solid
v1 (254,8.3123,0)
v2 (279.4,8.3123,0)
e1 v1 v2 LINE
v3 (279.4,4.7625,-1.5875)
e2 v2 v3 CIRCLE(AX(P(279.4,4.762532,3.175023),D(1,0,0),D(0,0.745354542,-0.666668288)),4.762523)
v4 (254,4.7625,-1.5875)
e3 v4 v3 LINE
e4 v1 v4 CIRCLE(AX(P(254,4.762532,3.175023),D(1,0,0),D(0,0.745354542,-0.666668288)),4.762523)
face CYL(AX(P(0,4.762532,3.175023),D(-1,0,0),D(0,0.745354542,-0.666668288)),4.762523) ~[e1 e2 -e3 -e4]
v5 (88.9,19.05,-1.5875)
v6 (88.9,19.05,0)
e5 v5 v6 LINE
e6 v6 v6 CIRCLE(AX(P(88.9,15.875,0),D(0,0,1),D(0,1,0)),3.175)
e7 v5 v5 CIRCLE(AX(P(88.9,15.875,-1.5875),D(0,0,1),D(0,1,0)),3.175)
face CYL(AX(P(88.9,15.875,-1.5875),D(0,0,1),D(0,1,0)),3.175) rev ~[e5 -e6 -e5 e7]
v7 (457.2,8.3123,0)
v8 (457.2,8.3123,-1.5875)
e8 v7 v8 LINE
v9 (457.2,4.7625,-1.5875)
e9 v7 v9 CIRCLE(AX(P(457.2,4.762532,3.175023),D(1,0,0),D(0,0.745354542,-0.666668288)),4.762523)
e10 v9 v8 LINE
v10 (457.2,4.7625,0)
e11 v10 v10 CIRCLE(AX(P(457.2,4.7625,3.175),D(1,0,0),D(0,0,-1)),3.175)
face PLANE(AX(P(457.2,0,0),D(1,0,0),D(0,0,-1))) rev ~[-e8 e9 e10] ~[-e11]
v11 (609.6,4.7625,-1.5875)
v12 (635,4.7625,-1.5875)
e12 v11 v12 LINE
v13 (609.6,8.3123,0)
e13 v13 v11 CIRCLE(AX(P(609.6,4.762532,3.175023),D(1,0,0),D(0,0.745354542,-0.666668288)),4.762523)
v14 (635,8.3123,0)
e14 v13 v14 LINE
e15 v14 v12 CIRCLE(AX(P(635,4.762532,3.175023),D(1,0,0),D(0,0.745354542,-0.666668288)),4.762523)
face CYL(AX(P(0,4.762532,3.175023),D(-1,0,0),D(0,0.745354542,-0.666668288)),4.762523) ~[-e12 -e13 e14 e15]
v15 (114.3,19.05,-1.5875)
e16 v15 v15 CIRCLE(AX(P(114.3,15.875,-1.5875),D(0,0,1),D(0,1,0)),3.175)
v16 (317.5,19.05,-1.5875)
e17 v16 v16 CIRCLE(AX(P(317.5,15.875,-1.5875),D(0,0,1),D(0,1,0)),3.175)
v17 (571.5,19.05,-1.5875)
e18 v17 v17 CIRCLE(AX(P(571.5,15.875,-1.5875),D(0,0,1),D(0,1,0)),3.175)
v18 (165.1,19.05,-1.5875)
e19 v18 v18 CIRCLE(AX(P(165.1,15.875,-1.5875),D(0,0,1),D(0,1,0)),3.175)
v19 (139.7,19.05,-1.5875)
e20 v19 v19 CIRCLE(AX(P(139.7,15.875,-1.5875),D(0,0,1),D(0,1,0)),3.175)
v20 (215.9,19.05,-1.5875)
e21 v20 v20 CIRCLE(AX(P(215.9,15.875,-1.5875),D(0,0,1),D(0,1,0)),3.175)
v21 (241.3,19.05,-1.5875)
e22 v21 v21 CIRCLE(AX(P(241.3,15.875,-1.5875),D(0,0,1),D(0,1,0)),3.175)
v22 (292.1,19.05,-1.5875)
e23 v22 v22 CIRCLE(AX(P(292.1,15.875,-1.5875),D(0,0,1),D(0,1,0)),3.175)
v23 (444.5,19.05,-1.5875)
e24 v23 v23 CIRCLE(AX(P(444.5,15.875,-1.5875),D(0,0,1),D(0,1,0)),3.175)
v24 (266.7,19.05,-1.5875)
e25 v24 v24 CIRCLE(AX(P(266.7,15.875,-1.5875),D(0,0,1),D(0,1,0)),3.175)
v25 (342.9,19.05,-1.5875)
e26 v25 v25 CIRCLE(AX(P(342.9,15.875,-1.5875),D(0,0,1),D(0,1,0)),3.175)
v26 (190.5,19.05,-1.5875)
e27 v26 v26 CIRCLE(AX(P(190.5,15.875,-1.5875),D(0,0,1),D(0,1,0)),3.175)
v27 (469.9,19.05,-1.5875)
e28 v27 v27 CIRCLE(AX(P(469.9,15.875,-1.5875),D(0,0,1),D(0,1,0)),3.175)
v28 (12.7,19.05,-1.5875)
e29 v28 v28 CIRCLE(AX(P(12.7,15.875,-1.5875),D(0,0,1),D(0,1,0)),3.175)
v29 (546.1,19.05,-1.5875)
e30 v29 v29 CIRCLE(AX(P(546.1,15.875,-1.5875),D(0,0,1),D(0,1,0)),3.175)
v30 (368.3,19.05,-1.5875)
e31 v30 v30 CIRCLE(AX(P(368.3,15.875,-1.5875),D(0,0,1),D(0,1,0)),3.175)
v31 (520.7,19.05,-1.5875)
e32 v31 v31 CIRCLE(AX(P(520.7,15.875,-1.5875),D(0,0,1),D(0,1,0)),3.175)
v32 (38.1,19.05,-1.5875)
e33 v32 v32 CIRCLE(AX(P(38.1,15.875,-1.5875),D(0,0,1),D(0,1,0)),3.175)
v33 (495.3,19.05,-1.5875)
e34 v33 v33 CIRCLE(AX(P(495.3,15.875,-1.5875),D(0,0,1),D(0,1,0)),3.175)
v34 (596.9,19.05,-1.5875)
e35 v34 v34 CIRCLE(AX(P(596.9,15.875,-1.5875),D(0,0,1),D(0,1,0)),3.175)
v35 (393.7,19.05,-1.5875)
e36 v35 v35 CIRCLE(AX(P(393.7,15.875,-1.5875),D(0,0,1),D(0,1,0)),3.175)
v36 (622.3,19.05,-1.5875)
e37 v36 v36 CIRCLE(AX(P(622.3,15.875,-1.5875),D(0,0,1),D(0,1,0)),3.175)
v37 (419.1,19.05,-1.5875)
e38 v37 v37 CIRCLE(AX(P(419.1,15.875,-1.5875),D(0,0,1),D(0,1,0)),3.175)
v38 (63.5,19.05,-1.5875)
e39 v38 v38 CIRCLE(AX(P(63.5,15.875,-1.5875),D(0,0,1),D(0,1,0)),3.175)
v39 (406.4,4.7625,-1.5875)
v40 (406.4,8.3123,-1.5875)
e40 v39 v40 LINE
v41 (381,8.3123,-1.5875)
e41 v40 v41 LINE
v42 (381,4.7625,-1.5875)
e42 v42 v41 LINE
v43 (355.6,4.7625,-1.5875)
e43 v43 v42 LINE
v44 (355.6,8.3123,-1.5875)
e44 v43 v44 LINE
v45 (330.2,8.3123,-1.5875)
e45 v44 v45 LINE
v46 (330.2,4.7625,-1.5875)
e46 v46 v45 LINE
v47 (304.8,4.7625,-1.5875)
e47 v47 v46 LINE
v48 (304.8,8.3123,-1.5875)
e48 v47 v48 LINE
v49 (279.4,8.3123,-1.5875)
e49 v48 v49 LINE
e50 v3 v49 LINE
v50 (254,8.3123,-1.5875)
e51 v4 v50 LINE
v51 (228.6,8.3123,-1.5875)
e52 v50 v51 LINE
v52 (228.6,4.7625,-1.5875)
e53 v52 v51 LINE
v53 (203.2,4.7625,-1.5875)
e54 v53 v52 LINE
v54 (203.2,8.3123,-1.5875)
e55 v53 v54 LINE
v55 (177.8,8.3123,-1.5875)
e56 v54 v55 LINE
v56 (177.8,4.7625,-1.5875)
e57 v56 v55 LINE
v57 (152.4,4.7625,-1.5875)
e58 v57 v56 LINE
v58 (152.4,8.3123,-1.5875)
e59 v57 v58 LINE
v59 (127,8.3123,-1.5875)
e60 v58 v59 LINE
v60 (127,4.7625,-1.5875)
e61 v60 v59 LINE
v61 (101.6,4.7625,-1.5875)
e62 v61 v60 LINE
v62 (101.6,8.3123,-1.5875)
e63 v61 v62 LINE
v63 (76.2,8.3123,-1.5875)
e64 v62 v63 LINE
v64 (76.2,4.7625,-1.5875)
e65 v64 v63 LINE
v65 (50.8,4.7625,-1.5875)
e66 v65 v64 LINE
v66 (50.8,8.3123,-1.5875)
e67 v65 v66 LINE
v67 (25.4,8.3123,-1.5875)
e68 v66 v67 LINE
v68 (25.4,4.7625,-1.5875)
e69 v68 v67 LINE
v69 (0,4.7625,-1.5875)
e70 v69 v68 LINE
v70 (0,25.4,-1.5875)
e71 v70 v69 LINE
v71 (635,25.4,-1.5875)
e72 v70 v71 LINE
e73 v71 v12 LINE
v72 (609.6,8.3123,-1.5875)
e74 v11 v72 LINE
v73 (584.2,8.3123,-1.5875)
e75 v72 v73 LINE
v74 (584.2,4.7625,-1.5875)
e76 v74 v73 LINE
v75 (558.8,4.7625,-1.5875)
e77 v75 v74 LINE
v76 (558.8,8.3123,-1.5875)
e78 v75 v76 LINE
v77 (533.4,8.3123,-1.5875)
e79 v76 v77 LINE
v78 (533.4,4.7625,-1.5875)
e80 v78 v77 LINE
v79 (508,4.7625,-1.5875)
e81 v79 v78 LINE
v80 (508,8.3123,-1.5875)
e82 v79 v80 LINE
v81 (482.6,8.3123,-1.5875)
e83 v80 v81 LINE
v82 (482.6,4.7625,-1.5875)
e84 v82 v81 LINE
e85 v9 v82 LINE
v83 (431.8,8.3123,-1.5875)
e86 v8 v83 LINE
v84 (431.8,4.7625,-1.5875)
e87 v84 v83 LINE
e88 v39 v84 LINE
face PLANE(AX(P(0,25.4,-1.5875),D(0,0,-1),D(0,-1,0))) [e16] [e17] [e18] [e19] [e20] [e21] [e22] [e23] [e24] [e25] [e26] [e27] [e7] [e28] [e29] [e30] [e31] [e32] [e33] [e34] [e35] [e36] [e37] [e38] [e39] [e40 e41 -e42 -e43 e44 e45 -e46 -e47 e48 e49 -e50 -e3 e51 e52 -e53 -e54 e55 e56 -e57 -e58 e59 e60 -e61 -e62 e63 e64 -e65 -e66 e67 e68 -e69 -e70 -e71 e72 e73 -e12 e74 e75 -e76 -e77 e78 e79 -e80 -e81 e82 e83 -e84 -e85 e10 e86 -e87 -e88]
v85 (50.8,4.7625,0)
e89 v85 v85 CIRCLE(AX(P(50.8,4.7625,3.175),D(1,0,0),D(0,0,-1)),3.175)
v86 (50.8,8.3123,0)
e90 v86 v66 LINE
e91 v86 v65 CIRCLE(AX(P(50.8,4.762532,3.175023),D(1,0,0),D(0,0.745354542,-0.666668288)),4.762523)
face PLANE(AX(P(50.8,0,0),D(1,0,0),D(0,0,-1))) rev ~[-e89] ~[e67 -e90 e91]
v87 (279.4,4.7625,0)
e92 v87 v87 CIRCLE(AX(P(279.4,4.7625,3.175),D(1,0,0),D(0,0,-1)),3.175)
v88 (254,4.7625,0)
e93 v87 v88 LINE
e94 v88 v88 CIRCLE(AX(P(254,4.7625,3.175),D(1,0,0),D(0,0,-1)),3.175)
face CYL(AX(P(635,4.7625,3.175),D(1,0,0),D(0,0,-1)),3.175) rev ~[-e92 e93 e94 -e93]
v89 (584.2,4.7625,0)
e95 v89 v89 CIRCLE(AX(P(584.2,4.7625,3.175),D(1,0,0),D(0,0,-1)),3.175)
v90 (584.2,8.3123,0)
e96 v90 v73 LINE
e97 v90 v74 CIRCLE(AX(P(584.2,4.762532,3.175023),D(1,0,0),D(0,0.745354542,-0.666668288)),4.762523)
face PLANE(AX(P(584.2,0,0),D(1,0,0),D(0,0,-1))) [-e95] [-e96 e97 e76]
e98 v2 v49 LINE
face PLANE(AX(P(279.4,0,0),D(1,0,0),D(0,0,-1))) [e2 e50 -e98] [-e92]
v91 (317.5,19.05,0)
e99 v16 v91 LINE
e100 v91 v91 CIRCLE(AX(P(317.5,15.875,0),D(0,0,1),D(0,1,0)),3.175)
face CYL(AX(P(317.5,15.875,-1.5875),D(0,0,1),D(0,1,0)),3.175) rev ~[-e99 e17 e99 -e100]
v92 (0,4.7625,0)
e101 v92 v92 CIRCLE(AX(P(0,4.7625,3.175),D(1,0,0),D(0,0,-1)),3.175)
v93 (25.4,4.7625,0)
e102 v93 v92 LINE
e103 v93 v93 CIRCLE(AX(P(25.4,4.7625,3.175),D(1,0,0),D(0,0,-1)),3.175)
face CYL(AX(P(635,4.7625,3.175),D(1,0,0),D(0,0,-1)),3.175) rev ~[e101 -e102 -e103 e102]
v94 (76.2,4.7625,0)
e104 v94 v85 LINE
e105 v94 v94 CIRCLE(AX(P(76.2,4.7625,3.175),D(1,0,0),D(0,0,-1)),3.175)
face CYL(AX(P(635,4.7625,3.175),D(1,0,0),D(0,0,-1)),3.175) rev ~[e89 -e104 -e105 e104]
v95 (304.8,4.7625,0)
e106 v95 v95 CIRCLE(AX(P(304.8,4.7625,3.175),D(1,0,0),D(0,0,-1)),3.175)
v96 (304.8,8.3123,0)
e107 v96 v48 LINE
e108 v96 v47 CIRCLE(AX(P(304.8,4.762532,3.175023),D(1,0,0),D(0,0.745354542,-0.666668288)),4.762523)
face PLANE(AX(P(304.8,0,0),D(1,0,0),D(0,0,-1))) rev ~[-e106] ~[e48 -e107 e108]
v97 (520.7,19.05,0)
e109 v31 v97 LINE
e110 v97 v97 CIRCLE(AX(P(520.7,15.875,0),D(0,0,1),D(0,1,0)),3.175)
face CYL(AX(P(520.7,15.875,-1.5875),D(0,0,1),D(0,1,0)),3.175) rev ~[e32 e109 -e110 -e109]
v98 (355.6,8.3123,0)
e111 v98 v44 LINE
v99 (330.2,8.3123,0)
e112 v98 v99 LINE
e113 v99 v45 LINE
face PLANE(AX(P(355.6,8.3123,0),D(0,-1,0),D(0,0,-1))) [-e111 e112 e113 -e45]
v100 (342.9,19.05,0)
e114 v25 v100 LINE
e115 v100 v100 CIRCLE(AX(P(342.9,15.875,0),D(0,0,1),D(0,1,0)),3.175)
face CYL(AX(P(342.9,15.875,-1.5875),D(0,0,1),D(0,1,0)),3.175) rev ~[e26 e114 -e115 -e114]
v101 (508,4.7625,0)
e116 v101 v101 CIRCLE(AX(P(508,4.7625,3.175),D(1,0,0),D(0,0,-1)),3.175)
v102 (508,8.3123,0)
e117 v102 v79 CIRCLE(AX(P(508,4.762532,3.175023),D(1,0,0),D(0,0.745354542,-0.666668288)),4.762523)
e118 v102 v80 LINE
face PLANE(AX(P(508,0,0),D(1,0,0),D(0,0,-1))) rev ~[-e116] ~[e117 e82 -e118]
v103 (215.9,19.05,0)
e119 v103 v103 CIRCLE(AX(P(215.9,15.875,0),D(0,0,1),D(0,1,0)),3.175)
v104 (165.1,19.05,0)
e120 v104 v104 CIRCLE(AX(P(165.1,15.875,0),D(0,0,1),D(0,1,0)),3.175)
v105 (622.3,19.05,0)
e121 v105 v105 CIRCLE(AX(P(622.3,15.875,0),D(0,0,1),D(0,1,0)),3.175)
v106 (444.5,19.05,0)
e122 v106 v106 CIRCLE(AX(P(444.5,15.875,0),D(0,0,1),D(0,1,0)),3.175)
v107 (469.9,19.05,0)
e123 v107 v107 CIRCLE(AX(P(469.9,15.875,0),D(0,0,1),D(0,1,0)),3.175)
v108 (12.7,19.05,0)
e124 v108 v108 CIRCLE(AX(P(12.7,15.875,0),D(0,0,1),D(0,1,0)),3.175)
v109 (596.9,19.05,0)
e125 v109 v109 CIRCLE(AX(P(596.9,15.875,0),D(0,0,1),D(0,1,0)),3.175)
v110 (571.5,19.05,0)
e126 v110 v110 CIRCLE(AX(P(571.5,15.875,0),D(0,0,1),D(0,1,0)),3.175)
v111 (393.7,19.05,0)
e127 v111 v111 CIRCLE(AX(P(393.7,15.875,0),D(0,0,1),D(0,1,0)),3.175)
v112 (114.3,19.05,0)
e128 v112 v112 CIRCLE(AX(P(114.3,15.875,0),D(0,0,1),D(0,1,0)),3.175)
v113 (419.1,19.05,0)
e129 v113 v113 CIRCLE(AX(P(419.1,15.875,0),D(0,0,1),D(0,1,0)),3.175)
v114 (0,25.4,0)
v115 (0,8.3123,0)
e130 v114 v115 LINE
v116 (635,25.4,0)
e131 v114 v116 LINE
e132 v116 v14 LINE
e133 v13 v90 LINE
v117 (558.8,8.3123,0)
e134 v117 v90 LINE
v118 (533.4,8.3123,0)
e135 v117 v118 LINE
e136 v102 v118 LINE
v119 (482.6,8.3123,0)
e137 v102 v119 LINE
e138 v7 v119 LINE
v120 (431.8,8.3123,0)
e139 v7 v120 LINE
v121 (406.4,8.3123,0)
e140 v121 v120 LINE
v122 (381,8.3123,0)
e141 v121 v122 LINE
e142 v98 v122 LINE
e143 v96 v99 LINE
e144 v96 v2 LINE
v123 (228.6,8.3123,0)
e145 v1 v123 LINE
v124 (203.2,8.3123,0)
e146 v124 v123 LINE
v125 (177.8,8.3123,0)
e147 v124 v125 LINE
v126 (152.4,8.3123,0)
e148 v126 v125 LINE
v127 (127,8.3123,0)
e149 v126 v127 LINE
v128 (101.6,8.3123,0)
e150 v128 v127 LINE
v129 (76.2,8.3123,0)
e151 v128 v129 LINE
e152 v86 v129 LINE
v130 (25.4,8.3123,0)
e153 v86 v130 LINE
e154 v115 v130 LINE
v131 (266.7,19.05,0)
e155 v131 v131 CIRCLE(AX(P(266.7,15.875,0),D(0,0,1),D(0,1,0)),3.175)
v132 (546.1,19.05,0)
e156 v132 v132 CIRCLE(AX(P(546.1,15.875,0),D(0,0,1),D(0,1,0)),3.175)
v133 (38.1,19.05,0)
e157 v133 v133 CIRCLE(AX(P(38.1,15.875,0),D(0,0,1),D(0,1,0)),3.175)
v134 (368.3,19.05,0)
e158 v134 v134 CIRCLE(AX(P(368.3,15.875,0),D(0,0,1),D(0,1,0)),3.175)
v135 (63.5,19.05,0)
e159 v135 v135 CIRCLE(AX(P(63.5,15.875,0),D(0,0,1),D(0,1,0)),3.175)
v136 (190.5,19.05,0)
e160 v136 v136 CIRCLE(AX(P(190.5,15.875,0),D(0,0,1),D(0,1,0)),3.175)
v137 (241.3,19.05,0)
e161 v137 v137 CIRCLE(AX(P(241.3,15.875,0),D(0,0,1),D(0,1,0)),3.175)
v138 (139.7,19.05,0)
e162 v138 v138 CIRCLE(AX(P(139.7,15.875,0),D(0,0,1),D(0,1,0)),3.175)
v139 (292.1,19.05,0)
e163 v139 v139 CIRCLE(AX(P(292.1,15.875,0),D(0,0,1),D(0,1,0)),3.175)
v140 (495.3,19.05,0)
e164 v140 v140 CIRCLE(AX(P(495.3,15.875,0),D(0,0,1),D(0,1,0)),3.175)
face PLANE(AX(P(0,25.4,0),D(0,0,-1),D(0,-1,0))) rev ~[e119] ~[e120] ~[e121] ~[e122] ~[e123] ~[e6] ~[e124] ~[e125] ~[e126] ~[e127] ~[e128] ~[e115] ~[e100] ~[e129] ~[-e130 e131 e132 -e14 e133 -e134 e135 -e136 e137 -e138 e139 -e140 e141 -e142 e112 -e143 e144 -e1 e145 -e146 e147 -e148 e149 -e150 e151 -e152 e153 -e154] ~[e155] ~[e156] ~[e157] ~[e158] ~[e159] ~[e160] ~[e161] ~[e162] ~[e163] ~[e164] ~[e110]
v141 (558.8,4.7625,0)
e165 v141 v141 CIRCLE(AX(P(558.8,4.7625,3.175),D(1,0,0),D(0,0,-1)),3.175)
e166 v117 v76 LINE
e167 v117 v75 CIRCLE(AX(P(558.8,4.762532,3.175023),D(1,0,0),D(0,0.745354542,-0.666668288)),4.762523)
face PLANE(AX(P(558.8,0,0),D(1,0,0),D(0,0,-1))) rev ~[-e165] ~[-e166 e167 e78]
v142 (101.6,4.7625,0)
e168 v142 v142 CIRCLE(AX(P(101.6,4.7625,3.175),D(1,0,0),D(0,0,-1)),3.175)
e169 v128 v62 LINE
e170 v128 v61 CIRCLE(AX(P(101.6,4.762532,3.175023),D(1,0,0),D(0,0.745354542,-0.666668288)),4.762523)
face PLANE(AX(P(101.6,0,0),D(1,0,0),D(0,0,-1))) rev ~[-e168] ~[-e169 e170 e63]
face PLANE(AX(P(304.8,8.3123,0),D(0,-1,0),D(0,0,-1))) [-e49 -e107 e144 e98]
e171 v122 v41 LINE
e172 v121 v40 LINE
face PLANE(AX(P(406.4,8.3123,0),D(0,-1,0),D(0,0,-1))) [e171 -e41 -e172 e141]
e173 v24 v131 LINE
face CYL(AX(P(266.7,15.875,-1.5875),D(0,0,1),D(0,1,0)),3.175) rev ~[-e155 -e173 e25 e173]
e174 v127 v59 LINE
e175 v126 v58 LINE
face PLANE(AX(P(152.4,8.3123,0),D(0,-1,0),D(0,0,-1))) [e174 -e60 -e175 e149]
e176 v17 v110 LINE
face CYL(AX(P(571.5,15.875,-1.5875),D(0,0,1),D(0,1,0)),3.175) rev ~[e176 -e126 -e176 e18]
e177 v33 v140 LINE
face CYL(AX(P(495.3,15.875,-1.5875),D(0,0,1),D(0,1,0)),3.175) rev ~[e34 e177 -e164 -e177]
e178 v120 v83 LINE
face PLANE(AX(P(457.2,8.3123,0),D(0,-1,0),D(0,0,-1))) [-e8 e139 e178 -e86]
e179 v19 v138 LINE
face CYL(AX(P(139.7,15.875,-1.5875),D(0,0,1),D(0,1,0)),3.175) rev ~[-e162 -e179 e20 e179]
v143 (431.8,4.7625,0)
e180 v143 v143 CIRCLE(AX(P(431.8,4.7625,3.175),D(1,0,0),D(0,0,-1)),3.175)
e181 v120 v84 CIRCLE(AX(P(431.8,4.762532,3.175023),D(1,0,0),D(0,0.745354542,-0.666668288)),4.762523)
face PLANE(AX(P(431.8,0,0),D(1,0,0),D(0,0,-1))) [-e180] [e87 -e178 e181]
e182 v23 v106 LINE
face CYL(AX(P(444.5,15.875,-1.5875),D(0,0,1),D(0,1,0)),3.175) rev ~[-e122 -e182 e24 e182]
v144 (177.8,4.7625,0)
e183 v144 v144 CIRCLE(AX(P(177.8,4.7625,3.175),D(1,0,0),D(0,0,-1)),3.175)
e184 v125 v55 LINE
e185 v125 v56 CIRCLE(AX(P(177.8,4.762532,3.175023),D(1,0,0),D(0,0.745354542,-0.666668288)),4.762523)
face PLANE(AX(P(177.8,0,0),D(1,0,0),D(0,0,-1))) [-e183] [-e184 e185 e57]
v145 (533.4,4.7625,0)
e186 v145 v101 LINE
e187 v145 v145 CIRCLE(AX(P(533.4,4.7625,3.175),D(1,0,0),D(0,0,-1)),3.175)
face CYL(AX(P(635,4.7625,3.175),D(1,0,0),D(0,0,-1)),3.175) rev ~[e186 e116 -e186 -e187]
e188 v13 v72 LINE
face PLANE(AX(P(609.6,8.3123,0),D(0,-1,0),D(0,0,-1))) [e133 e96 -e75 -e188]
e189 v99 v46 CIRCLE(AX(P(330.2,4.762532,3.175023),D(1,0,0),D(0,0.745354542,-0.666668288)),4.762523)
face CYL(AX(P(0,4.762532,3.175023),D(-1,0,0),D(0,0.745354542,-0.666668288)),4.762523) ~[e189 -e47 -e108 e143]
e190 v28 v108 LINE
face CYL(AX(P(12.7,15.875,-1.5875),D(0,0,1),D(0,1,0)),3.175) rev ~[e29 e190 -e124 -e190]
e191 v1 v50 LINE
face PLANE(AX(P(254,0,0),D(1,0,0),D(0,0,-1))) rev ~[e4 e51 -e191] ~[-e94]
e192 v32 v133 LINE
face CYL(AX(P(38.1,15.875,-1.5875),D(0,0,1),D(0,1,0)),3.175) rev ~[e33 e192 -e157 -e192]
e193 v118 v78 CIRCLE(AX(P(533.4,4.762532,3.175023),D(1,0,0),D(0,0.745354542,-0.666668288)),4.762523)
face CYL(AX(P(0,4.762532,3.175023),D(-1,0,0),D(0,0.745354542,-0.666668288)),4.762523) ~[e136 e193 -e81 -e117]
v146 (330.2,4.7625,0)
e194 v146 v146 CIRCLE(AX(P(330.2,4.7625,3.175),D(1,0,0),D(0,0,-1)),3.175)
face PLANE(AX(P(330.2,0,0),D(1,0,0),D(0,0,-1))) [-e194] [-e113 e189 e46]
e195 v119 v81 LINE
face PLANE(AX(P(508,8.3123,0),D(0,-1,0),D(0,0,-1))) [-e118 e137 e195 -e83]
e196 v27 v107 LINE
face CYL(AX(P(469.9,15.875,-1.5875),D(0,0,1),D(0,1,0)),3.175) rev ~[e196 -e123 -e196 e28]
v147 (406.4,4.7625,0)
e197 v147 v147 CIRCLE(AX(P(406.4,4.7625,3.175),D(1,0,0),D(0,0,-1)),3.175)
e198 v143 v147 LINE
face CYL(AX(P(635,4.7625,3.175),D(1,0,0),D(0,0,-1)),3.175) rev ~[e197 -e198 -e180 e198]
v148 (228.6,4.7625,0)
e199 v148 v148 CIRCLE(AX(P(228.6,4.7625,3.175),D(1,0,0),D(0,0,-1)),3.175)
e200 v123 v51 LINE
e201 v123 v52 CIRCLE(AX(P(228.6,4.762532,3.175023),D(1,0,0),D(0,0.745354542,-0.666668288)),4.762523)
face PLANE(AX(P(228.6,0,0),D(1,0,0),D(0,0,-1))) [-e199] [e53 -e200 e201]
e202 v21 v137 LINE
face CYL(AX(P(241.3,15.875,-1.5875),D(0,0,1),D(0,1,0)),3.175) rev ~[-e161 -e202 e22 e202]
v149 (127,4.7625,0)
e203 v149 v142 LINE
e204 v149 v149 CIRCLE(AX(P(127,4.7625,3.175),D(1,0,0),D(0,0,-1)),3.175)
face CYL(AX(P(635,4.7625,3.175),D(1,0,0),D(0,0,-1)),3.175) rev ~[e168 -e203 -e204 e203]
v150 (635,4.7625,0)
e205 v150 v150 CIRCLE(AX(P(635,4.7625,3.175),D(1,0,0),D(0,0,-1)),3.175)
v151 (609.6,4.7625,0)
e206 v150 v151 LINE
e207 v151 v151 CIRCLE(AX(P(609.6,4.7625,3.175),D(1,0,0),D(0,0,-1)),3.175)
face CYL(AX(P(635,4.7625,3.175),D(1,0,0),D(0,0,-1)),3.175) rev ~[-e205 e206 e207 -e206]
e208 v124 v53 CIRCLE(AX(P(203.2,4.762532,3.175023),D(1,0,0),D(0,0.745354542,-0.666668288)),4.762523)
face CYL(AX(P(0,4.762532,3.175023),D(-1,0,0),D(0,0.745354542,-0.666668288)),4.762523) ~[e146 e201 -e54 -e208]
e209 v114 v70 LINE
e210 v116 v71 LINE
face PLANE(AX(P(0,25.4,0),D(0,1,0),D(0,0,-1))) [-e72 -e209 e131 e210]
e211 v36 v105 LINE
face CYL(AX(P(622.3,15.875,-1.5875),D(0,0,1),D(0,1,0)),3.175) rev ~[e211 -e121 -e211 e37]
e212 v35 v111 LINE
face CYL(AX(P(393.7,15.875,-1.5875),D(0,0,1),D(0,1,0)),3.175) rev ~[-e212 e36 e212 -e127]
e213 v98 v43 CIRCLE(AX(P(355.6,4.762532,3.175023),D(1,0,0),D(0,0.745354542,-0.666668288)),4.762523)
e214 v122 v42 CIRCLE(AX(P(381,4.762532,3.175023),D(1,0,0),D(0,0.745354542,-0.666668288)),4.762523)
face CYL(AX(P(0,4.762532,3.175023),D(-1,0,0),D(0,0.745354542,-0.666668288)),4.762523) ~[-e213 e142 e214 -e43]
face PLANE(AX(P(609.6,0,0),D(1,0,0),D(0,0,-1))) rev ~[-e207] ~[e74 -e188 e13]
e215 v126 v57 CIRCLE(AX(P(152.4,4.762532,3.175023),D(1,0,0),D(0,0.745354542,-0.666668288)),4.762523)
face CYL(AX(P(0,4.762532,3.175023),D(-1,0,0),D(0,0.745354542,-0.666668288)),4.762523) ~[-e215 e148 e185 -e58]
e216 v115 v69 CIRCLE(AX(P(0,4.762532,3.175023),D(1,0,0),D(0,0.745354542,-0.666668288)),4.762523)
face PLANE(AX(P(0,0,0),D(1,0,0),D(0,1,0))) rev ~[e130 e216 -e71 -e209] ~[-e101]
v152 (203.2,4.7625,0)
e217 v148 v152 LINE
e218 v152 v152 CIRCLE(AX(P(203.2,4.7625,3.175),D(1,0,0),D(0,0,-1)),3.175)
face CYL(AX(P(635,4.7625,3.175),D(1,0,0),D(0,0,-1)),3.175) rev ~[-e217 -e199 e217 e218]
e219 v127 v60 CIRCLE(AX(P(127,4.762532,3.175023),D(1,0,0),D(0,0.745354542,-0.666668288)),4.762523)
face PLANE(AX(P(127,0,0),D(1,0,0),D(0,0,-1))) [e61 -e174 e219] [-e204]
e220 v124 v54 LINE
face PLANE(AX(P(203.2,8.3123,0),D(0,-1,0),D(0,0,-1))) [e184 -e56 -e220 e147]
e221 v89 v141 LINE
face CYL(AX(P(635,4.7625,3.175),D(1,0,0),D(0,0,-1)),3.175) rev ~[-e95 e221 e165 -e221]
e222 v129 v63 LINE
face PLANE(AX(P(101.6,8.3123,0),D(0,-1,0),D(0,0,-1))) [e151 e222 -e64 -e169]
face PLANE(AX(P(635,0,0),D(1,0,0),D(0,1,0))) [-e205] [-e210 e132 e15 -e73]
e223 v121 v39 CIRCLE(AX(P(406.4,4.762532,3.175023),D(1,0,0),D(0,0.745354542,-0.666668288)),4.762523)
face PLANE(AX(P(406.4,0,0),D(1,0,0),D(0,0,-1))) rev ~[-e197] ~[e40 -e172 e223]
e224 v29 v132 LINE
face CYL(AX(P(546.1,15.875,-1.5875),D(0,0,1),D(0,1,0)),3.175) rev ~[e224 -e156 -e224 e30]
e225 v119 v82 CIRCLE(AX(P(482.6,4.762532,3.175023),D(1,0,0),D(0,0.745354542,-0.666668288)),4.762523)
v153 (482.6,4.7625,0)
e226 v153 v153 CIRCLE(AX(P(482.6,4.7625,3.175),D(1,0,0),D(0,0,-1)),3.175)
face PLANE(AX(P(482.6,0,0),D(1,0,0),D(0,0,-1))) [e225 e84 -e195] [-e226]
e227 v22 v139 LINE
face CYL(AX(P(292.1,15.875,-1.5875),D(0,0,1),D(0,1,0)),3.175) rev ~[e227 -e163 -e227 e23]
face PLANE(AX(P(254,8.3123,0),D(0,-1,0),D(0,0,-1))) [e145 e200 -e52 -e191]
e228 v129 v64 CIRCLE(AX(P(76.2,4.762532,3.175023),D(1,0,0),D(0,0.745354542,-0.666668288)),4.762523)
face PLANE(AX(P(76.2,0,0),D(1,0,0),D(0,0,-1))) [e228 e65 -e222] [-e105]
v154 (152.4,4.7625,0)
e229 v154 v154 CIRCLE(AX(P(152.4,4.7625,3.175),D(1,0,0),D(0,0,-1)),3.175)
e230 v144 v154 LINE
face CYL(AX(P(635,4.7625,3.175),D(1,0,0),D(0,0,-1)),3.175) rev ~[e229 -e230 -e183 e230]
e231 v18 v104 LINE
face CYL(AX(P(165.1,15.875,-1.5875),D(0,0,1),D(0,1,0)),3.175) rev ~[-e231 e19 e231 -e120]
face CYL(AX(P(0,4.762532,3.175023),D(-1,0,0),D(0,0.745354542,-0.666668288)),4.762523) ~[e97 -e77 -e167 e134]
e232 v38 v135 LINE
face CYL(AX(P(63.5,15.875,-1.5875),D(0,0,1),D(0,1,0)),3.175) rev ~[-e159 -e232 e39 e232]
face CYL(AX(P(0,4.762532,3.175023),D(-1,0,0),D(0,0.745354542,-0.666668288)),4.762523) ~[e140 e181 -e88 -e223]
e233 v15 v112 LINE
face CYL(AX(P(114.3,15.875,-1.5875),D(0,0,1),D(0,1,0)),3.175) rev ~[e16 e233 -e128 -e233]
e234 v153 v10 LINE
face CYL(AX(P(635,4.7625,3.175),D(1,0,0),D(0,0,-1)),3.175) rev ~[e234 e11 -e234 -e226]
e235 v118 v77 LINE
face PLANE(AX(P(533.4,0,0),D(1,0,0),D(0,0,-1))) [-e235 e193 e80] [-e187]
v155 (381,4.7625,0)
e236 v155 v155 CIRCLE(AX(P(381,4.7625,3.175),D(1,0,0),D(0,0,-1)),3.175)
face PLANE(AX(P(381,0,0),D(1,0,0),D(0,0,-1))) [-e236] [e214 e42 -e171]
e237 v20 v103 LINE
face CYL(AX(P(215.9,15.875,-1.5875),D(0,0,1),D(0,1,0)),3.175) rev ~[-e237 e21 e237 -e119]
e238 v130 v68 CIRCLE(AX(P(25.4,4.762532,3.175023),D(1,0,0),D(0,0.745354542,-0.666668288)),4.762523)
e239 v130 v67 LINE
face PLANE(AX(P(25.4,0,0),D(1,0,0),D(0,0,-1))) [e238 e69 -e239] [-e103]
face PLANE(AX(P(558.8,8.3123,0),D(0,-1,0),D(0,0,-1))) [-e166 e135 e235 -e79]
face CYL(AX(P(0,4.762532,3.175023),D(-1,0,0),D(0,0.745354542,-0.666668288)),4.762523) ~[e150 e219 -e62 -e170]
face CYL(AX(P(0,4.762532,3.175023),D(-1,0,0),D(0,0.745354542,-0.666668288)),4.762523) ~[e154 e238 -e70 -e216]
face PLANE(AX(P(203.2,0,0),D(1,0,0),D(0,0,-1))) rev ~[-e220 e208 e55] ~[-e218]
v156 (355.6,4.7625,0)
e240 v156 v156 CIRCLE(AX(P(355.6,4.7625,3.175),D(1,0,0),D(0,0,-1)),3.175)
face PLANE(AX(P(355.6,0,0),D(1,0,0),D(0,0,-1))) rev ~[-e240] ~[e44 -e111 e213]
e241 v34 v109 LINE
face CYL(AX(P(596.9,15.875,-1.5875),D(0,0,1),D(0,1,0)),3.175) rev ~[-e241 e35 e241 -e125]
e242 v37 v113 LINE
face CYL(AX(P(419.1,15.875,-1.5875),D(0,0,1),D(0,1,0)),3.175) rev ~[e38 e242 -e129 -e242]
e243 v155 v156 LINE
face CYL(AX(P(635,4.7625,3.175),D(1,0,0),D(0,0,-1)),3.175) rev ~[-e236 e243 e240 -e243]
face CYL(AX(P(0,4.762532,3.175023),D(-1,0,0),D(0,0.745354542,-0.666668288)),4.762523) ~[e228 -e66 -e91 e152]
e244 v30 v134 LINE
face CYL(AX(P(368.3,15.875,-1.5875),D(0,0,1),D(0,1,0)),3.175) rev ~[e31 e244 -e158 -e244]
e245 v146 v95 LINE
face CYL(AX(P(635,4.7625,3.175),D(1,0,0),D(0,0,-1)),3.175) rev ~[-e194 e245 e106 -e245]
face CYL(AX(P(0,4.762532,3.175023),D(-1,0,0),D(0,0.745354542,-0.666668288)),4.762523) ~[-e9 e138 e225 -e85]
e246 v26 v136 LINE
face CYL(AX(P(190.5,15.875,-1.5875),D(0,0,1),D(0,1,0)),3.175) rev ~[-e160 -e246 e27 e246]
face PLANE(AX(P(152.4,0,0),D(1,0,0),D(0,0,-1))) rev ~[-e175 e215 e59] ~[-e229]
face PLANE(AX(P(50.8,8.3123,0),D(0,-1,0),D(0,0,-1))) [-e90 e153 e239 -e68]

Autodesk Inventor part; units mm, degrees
ref_plane "YZ Plane" through (0, 0, 0) normal (1, 0, 0) x (0, 1, 0)
ref_plane "XZ Plane" through (0, 0, 0) normal (0, 1, 0) x (-1, 0, 0)
sketch "Sketch1" plane through (0, 0, 0) normal (1, 0, 0) x (0, 1, 0)
  line L0 (0, 0) -> (25.4, 0) construction
  line L1 (25.4, 0) -> (25.4, -1.5875) construction
  line L2 (25.4, -1.5875) -> (0, -1.5875) construction
  line L3 (0, -1.5875) -> (0, 0) construction
  circle A0 centre (4.7625, 3.175) radius 4.7625 construction
  line L4 (25.4, 0) -> (25.4, -1.5875)
  line L5 (25.4, -1.5875) -> (4.7625, -1.5875)
  line L6 (25.4, 0) -> (8.3123, 0)
  arc A1 (8.3123, 0) -> (4.7625, -1.5875) centre (4.7625, 3.175) ccw
  dimension "d0" = 25.4
  dimension "d1" = 1.5875
  dimension "d2" = 9.525
  dimension "d3" = 4.7625
  dimension "d4" = 3.175
extrude "Extrusion1" add sketch "Sketch1" along normal blind 635
sketch "Sketch2" plane through (635, 0, 0) normal (1, 0, 0) x (0, 0, -1)
  arc A0 (0, 8.3123) -> (1.5875, 4.7625) centre (-3.175, 4.7625) ccw projected
  circle A1 centre (-3.175, 4.7625) radius 3.175
  point P0 (0, 0)
  dimension "d7" = 6.35
extrude "Extrusion2" cut sketch "Sketch2" against normal blind 635
sketch "Sketch4" plane through (635, 25.4, -1.5875) normal (0, 0, -1) x (-1, 0, 0)
  line L0 (635, 0) -> (0, 0) projected
  line L1 (0, -20.6375) -> (0, 0) projected
  point P0 (0, -17.0877)
  point P1 (635, -25.4)
  point P2 (12.7, -9.525)
  dimension "d15" = 9.525
  dimension "d16" = 12.7
hole "Hole1" at (622.3, 15.875, -1.5875) direction (0, 0, 1) diameter 6.35 end through all
pattern_linear "Rectangular Pattern2" count 25 spacing 25.4 along (-1, 0, 0) of "Hole1"
ref_plane "Work Plane1" through (609.6, 0, 0) normal (1, 0, 0) x (0, 0, -1)
sketch "Sketch5" plane through (609.6, 0, 0) normal (1, 0, 0) x (0, 0, -1)
  circle A0 centre (-3.175, 4.7625) radius 3.175 projected
  line L0 (1.5875, 25.4) -> (0, 25.4) projected
  line L1 (0, 25.4) -> (0, 8.3123) projected
  arc A1 (0, 8.3123) -> (1.5875, 4.7625) centre (-3.175, 4.7625) ccw projected
  line L2 (1.5875, 4.7625) -> (1.5875, 25.4) projected
  line L3 (0, 8.3123) -> (1.5875, 8.3123)
  line L4 (1.5875, 4.7625) -> (1.5875, 25.4) projected
  line L5 (1.5875, 8.3123) -> (1.5875, 4.7625)
  arc A2 (0, 8.3123) -> (1.5875, 4.7625) centre (-3.175, 4.7625) ccw
  point P0 (0, 0)
extrude "Extrusion4" cut sketch "Sketch5" against normal blind 25.4 contours L2 A1 L3
pattern_linear "Rectangular Pattern3" count 12 spacing 50.8 along (-1, 0, 0) of "Extrusion4"
properties part number "continuous hinge bottom"
